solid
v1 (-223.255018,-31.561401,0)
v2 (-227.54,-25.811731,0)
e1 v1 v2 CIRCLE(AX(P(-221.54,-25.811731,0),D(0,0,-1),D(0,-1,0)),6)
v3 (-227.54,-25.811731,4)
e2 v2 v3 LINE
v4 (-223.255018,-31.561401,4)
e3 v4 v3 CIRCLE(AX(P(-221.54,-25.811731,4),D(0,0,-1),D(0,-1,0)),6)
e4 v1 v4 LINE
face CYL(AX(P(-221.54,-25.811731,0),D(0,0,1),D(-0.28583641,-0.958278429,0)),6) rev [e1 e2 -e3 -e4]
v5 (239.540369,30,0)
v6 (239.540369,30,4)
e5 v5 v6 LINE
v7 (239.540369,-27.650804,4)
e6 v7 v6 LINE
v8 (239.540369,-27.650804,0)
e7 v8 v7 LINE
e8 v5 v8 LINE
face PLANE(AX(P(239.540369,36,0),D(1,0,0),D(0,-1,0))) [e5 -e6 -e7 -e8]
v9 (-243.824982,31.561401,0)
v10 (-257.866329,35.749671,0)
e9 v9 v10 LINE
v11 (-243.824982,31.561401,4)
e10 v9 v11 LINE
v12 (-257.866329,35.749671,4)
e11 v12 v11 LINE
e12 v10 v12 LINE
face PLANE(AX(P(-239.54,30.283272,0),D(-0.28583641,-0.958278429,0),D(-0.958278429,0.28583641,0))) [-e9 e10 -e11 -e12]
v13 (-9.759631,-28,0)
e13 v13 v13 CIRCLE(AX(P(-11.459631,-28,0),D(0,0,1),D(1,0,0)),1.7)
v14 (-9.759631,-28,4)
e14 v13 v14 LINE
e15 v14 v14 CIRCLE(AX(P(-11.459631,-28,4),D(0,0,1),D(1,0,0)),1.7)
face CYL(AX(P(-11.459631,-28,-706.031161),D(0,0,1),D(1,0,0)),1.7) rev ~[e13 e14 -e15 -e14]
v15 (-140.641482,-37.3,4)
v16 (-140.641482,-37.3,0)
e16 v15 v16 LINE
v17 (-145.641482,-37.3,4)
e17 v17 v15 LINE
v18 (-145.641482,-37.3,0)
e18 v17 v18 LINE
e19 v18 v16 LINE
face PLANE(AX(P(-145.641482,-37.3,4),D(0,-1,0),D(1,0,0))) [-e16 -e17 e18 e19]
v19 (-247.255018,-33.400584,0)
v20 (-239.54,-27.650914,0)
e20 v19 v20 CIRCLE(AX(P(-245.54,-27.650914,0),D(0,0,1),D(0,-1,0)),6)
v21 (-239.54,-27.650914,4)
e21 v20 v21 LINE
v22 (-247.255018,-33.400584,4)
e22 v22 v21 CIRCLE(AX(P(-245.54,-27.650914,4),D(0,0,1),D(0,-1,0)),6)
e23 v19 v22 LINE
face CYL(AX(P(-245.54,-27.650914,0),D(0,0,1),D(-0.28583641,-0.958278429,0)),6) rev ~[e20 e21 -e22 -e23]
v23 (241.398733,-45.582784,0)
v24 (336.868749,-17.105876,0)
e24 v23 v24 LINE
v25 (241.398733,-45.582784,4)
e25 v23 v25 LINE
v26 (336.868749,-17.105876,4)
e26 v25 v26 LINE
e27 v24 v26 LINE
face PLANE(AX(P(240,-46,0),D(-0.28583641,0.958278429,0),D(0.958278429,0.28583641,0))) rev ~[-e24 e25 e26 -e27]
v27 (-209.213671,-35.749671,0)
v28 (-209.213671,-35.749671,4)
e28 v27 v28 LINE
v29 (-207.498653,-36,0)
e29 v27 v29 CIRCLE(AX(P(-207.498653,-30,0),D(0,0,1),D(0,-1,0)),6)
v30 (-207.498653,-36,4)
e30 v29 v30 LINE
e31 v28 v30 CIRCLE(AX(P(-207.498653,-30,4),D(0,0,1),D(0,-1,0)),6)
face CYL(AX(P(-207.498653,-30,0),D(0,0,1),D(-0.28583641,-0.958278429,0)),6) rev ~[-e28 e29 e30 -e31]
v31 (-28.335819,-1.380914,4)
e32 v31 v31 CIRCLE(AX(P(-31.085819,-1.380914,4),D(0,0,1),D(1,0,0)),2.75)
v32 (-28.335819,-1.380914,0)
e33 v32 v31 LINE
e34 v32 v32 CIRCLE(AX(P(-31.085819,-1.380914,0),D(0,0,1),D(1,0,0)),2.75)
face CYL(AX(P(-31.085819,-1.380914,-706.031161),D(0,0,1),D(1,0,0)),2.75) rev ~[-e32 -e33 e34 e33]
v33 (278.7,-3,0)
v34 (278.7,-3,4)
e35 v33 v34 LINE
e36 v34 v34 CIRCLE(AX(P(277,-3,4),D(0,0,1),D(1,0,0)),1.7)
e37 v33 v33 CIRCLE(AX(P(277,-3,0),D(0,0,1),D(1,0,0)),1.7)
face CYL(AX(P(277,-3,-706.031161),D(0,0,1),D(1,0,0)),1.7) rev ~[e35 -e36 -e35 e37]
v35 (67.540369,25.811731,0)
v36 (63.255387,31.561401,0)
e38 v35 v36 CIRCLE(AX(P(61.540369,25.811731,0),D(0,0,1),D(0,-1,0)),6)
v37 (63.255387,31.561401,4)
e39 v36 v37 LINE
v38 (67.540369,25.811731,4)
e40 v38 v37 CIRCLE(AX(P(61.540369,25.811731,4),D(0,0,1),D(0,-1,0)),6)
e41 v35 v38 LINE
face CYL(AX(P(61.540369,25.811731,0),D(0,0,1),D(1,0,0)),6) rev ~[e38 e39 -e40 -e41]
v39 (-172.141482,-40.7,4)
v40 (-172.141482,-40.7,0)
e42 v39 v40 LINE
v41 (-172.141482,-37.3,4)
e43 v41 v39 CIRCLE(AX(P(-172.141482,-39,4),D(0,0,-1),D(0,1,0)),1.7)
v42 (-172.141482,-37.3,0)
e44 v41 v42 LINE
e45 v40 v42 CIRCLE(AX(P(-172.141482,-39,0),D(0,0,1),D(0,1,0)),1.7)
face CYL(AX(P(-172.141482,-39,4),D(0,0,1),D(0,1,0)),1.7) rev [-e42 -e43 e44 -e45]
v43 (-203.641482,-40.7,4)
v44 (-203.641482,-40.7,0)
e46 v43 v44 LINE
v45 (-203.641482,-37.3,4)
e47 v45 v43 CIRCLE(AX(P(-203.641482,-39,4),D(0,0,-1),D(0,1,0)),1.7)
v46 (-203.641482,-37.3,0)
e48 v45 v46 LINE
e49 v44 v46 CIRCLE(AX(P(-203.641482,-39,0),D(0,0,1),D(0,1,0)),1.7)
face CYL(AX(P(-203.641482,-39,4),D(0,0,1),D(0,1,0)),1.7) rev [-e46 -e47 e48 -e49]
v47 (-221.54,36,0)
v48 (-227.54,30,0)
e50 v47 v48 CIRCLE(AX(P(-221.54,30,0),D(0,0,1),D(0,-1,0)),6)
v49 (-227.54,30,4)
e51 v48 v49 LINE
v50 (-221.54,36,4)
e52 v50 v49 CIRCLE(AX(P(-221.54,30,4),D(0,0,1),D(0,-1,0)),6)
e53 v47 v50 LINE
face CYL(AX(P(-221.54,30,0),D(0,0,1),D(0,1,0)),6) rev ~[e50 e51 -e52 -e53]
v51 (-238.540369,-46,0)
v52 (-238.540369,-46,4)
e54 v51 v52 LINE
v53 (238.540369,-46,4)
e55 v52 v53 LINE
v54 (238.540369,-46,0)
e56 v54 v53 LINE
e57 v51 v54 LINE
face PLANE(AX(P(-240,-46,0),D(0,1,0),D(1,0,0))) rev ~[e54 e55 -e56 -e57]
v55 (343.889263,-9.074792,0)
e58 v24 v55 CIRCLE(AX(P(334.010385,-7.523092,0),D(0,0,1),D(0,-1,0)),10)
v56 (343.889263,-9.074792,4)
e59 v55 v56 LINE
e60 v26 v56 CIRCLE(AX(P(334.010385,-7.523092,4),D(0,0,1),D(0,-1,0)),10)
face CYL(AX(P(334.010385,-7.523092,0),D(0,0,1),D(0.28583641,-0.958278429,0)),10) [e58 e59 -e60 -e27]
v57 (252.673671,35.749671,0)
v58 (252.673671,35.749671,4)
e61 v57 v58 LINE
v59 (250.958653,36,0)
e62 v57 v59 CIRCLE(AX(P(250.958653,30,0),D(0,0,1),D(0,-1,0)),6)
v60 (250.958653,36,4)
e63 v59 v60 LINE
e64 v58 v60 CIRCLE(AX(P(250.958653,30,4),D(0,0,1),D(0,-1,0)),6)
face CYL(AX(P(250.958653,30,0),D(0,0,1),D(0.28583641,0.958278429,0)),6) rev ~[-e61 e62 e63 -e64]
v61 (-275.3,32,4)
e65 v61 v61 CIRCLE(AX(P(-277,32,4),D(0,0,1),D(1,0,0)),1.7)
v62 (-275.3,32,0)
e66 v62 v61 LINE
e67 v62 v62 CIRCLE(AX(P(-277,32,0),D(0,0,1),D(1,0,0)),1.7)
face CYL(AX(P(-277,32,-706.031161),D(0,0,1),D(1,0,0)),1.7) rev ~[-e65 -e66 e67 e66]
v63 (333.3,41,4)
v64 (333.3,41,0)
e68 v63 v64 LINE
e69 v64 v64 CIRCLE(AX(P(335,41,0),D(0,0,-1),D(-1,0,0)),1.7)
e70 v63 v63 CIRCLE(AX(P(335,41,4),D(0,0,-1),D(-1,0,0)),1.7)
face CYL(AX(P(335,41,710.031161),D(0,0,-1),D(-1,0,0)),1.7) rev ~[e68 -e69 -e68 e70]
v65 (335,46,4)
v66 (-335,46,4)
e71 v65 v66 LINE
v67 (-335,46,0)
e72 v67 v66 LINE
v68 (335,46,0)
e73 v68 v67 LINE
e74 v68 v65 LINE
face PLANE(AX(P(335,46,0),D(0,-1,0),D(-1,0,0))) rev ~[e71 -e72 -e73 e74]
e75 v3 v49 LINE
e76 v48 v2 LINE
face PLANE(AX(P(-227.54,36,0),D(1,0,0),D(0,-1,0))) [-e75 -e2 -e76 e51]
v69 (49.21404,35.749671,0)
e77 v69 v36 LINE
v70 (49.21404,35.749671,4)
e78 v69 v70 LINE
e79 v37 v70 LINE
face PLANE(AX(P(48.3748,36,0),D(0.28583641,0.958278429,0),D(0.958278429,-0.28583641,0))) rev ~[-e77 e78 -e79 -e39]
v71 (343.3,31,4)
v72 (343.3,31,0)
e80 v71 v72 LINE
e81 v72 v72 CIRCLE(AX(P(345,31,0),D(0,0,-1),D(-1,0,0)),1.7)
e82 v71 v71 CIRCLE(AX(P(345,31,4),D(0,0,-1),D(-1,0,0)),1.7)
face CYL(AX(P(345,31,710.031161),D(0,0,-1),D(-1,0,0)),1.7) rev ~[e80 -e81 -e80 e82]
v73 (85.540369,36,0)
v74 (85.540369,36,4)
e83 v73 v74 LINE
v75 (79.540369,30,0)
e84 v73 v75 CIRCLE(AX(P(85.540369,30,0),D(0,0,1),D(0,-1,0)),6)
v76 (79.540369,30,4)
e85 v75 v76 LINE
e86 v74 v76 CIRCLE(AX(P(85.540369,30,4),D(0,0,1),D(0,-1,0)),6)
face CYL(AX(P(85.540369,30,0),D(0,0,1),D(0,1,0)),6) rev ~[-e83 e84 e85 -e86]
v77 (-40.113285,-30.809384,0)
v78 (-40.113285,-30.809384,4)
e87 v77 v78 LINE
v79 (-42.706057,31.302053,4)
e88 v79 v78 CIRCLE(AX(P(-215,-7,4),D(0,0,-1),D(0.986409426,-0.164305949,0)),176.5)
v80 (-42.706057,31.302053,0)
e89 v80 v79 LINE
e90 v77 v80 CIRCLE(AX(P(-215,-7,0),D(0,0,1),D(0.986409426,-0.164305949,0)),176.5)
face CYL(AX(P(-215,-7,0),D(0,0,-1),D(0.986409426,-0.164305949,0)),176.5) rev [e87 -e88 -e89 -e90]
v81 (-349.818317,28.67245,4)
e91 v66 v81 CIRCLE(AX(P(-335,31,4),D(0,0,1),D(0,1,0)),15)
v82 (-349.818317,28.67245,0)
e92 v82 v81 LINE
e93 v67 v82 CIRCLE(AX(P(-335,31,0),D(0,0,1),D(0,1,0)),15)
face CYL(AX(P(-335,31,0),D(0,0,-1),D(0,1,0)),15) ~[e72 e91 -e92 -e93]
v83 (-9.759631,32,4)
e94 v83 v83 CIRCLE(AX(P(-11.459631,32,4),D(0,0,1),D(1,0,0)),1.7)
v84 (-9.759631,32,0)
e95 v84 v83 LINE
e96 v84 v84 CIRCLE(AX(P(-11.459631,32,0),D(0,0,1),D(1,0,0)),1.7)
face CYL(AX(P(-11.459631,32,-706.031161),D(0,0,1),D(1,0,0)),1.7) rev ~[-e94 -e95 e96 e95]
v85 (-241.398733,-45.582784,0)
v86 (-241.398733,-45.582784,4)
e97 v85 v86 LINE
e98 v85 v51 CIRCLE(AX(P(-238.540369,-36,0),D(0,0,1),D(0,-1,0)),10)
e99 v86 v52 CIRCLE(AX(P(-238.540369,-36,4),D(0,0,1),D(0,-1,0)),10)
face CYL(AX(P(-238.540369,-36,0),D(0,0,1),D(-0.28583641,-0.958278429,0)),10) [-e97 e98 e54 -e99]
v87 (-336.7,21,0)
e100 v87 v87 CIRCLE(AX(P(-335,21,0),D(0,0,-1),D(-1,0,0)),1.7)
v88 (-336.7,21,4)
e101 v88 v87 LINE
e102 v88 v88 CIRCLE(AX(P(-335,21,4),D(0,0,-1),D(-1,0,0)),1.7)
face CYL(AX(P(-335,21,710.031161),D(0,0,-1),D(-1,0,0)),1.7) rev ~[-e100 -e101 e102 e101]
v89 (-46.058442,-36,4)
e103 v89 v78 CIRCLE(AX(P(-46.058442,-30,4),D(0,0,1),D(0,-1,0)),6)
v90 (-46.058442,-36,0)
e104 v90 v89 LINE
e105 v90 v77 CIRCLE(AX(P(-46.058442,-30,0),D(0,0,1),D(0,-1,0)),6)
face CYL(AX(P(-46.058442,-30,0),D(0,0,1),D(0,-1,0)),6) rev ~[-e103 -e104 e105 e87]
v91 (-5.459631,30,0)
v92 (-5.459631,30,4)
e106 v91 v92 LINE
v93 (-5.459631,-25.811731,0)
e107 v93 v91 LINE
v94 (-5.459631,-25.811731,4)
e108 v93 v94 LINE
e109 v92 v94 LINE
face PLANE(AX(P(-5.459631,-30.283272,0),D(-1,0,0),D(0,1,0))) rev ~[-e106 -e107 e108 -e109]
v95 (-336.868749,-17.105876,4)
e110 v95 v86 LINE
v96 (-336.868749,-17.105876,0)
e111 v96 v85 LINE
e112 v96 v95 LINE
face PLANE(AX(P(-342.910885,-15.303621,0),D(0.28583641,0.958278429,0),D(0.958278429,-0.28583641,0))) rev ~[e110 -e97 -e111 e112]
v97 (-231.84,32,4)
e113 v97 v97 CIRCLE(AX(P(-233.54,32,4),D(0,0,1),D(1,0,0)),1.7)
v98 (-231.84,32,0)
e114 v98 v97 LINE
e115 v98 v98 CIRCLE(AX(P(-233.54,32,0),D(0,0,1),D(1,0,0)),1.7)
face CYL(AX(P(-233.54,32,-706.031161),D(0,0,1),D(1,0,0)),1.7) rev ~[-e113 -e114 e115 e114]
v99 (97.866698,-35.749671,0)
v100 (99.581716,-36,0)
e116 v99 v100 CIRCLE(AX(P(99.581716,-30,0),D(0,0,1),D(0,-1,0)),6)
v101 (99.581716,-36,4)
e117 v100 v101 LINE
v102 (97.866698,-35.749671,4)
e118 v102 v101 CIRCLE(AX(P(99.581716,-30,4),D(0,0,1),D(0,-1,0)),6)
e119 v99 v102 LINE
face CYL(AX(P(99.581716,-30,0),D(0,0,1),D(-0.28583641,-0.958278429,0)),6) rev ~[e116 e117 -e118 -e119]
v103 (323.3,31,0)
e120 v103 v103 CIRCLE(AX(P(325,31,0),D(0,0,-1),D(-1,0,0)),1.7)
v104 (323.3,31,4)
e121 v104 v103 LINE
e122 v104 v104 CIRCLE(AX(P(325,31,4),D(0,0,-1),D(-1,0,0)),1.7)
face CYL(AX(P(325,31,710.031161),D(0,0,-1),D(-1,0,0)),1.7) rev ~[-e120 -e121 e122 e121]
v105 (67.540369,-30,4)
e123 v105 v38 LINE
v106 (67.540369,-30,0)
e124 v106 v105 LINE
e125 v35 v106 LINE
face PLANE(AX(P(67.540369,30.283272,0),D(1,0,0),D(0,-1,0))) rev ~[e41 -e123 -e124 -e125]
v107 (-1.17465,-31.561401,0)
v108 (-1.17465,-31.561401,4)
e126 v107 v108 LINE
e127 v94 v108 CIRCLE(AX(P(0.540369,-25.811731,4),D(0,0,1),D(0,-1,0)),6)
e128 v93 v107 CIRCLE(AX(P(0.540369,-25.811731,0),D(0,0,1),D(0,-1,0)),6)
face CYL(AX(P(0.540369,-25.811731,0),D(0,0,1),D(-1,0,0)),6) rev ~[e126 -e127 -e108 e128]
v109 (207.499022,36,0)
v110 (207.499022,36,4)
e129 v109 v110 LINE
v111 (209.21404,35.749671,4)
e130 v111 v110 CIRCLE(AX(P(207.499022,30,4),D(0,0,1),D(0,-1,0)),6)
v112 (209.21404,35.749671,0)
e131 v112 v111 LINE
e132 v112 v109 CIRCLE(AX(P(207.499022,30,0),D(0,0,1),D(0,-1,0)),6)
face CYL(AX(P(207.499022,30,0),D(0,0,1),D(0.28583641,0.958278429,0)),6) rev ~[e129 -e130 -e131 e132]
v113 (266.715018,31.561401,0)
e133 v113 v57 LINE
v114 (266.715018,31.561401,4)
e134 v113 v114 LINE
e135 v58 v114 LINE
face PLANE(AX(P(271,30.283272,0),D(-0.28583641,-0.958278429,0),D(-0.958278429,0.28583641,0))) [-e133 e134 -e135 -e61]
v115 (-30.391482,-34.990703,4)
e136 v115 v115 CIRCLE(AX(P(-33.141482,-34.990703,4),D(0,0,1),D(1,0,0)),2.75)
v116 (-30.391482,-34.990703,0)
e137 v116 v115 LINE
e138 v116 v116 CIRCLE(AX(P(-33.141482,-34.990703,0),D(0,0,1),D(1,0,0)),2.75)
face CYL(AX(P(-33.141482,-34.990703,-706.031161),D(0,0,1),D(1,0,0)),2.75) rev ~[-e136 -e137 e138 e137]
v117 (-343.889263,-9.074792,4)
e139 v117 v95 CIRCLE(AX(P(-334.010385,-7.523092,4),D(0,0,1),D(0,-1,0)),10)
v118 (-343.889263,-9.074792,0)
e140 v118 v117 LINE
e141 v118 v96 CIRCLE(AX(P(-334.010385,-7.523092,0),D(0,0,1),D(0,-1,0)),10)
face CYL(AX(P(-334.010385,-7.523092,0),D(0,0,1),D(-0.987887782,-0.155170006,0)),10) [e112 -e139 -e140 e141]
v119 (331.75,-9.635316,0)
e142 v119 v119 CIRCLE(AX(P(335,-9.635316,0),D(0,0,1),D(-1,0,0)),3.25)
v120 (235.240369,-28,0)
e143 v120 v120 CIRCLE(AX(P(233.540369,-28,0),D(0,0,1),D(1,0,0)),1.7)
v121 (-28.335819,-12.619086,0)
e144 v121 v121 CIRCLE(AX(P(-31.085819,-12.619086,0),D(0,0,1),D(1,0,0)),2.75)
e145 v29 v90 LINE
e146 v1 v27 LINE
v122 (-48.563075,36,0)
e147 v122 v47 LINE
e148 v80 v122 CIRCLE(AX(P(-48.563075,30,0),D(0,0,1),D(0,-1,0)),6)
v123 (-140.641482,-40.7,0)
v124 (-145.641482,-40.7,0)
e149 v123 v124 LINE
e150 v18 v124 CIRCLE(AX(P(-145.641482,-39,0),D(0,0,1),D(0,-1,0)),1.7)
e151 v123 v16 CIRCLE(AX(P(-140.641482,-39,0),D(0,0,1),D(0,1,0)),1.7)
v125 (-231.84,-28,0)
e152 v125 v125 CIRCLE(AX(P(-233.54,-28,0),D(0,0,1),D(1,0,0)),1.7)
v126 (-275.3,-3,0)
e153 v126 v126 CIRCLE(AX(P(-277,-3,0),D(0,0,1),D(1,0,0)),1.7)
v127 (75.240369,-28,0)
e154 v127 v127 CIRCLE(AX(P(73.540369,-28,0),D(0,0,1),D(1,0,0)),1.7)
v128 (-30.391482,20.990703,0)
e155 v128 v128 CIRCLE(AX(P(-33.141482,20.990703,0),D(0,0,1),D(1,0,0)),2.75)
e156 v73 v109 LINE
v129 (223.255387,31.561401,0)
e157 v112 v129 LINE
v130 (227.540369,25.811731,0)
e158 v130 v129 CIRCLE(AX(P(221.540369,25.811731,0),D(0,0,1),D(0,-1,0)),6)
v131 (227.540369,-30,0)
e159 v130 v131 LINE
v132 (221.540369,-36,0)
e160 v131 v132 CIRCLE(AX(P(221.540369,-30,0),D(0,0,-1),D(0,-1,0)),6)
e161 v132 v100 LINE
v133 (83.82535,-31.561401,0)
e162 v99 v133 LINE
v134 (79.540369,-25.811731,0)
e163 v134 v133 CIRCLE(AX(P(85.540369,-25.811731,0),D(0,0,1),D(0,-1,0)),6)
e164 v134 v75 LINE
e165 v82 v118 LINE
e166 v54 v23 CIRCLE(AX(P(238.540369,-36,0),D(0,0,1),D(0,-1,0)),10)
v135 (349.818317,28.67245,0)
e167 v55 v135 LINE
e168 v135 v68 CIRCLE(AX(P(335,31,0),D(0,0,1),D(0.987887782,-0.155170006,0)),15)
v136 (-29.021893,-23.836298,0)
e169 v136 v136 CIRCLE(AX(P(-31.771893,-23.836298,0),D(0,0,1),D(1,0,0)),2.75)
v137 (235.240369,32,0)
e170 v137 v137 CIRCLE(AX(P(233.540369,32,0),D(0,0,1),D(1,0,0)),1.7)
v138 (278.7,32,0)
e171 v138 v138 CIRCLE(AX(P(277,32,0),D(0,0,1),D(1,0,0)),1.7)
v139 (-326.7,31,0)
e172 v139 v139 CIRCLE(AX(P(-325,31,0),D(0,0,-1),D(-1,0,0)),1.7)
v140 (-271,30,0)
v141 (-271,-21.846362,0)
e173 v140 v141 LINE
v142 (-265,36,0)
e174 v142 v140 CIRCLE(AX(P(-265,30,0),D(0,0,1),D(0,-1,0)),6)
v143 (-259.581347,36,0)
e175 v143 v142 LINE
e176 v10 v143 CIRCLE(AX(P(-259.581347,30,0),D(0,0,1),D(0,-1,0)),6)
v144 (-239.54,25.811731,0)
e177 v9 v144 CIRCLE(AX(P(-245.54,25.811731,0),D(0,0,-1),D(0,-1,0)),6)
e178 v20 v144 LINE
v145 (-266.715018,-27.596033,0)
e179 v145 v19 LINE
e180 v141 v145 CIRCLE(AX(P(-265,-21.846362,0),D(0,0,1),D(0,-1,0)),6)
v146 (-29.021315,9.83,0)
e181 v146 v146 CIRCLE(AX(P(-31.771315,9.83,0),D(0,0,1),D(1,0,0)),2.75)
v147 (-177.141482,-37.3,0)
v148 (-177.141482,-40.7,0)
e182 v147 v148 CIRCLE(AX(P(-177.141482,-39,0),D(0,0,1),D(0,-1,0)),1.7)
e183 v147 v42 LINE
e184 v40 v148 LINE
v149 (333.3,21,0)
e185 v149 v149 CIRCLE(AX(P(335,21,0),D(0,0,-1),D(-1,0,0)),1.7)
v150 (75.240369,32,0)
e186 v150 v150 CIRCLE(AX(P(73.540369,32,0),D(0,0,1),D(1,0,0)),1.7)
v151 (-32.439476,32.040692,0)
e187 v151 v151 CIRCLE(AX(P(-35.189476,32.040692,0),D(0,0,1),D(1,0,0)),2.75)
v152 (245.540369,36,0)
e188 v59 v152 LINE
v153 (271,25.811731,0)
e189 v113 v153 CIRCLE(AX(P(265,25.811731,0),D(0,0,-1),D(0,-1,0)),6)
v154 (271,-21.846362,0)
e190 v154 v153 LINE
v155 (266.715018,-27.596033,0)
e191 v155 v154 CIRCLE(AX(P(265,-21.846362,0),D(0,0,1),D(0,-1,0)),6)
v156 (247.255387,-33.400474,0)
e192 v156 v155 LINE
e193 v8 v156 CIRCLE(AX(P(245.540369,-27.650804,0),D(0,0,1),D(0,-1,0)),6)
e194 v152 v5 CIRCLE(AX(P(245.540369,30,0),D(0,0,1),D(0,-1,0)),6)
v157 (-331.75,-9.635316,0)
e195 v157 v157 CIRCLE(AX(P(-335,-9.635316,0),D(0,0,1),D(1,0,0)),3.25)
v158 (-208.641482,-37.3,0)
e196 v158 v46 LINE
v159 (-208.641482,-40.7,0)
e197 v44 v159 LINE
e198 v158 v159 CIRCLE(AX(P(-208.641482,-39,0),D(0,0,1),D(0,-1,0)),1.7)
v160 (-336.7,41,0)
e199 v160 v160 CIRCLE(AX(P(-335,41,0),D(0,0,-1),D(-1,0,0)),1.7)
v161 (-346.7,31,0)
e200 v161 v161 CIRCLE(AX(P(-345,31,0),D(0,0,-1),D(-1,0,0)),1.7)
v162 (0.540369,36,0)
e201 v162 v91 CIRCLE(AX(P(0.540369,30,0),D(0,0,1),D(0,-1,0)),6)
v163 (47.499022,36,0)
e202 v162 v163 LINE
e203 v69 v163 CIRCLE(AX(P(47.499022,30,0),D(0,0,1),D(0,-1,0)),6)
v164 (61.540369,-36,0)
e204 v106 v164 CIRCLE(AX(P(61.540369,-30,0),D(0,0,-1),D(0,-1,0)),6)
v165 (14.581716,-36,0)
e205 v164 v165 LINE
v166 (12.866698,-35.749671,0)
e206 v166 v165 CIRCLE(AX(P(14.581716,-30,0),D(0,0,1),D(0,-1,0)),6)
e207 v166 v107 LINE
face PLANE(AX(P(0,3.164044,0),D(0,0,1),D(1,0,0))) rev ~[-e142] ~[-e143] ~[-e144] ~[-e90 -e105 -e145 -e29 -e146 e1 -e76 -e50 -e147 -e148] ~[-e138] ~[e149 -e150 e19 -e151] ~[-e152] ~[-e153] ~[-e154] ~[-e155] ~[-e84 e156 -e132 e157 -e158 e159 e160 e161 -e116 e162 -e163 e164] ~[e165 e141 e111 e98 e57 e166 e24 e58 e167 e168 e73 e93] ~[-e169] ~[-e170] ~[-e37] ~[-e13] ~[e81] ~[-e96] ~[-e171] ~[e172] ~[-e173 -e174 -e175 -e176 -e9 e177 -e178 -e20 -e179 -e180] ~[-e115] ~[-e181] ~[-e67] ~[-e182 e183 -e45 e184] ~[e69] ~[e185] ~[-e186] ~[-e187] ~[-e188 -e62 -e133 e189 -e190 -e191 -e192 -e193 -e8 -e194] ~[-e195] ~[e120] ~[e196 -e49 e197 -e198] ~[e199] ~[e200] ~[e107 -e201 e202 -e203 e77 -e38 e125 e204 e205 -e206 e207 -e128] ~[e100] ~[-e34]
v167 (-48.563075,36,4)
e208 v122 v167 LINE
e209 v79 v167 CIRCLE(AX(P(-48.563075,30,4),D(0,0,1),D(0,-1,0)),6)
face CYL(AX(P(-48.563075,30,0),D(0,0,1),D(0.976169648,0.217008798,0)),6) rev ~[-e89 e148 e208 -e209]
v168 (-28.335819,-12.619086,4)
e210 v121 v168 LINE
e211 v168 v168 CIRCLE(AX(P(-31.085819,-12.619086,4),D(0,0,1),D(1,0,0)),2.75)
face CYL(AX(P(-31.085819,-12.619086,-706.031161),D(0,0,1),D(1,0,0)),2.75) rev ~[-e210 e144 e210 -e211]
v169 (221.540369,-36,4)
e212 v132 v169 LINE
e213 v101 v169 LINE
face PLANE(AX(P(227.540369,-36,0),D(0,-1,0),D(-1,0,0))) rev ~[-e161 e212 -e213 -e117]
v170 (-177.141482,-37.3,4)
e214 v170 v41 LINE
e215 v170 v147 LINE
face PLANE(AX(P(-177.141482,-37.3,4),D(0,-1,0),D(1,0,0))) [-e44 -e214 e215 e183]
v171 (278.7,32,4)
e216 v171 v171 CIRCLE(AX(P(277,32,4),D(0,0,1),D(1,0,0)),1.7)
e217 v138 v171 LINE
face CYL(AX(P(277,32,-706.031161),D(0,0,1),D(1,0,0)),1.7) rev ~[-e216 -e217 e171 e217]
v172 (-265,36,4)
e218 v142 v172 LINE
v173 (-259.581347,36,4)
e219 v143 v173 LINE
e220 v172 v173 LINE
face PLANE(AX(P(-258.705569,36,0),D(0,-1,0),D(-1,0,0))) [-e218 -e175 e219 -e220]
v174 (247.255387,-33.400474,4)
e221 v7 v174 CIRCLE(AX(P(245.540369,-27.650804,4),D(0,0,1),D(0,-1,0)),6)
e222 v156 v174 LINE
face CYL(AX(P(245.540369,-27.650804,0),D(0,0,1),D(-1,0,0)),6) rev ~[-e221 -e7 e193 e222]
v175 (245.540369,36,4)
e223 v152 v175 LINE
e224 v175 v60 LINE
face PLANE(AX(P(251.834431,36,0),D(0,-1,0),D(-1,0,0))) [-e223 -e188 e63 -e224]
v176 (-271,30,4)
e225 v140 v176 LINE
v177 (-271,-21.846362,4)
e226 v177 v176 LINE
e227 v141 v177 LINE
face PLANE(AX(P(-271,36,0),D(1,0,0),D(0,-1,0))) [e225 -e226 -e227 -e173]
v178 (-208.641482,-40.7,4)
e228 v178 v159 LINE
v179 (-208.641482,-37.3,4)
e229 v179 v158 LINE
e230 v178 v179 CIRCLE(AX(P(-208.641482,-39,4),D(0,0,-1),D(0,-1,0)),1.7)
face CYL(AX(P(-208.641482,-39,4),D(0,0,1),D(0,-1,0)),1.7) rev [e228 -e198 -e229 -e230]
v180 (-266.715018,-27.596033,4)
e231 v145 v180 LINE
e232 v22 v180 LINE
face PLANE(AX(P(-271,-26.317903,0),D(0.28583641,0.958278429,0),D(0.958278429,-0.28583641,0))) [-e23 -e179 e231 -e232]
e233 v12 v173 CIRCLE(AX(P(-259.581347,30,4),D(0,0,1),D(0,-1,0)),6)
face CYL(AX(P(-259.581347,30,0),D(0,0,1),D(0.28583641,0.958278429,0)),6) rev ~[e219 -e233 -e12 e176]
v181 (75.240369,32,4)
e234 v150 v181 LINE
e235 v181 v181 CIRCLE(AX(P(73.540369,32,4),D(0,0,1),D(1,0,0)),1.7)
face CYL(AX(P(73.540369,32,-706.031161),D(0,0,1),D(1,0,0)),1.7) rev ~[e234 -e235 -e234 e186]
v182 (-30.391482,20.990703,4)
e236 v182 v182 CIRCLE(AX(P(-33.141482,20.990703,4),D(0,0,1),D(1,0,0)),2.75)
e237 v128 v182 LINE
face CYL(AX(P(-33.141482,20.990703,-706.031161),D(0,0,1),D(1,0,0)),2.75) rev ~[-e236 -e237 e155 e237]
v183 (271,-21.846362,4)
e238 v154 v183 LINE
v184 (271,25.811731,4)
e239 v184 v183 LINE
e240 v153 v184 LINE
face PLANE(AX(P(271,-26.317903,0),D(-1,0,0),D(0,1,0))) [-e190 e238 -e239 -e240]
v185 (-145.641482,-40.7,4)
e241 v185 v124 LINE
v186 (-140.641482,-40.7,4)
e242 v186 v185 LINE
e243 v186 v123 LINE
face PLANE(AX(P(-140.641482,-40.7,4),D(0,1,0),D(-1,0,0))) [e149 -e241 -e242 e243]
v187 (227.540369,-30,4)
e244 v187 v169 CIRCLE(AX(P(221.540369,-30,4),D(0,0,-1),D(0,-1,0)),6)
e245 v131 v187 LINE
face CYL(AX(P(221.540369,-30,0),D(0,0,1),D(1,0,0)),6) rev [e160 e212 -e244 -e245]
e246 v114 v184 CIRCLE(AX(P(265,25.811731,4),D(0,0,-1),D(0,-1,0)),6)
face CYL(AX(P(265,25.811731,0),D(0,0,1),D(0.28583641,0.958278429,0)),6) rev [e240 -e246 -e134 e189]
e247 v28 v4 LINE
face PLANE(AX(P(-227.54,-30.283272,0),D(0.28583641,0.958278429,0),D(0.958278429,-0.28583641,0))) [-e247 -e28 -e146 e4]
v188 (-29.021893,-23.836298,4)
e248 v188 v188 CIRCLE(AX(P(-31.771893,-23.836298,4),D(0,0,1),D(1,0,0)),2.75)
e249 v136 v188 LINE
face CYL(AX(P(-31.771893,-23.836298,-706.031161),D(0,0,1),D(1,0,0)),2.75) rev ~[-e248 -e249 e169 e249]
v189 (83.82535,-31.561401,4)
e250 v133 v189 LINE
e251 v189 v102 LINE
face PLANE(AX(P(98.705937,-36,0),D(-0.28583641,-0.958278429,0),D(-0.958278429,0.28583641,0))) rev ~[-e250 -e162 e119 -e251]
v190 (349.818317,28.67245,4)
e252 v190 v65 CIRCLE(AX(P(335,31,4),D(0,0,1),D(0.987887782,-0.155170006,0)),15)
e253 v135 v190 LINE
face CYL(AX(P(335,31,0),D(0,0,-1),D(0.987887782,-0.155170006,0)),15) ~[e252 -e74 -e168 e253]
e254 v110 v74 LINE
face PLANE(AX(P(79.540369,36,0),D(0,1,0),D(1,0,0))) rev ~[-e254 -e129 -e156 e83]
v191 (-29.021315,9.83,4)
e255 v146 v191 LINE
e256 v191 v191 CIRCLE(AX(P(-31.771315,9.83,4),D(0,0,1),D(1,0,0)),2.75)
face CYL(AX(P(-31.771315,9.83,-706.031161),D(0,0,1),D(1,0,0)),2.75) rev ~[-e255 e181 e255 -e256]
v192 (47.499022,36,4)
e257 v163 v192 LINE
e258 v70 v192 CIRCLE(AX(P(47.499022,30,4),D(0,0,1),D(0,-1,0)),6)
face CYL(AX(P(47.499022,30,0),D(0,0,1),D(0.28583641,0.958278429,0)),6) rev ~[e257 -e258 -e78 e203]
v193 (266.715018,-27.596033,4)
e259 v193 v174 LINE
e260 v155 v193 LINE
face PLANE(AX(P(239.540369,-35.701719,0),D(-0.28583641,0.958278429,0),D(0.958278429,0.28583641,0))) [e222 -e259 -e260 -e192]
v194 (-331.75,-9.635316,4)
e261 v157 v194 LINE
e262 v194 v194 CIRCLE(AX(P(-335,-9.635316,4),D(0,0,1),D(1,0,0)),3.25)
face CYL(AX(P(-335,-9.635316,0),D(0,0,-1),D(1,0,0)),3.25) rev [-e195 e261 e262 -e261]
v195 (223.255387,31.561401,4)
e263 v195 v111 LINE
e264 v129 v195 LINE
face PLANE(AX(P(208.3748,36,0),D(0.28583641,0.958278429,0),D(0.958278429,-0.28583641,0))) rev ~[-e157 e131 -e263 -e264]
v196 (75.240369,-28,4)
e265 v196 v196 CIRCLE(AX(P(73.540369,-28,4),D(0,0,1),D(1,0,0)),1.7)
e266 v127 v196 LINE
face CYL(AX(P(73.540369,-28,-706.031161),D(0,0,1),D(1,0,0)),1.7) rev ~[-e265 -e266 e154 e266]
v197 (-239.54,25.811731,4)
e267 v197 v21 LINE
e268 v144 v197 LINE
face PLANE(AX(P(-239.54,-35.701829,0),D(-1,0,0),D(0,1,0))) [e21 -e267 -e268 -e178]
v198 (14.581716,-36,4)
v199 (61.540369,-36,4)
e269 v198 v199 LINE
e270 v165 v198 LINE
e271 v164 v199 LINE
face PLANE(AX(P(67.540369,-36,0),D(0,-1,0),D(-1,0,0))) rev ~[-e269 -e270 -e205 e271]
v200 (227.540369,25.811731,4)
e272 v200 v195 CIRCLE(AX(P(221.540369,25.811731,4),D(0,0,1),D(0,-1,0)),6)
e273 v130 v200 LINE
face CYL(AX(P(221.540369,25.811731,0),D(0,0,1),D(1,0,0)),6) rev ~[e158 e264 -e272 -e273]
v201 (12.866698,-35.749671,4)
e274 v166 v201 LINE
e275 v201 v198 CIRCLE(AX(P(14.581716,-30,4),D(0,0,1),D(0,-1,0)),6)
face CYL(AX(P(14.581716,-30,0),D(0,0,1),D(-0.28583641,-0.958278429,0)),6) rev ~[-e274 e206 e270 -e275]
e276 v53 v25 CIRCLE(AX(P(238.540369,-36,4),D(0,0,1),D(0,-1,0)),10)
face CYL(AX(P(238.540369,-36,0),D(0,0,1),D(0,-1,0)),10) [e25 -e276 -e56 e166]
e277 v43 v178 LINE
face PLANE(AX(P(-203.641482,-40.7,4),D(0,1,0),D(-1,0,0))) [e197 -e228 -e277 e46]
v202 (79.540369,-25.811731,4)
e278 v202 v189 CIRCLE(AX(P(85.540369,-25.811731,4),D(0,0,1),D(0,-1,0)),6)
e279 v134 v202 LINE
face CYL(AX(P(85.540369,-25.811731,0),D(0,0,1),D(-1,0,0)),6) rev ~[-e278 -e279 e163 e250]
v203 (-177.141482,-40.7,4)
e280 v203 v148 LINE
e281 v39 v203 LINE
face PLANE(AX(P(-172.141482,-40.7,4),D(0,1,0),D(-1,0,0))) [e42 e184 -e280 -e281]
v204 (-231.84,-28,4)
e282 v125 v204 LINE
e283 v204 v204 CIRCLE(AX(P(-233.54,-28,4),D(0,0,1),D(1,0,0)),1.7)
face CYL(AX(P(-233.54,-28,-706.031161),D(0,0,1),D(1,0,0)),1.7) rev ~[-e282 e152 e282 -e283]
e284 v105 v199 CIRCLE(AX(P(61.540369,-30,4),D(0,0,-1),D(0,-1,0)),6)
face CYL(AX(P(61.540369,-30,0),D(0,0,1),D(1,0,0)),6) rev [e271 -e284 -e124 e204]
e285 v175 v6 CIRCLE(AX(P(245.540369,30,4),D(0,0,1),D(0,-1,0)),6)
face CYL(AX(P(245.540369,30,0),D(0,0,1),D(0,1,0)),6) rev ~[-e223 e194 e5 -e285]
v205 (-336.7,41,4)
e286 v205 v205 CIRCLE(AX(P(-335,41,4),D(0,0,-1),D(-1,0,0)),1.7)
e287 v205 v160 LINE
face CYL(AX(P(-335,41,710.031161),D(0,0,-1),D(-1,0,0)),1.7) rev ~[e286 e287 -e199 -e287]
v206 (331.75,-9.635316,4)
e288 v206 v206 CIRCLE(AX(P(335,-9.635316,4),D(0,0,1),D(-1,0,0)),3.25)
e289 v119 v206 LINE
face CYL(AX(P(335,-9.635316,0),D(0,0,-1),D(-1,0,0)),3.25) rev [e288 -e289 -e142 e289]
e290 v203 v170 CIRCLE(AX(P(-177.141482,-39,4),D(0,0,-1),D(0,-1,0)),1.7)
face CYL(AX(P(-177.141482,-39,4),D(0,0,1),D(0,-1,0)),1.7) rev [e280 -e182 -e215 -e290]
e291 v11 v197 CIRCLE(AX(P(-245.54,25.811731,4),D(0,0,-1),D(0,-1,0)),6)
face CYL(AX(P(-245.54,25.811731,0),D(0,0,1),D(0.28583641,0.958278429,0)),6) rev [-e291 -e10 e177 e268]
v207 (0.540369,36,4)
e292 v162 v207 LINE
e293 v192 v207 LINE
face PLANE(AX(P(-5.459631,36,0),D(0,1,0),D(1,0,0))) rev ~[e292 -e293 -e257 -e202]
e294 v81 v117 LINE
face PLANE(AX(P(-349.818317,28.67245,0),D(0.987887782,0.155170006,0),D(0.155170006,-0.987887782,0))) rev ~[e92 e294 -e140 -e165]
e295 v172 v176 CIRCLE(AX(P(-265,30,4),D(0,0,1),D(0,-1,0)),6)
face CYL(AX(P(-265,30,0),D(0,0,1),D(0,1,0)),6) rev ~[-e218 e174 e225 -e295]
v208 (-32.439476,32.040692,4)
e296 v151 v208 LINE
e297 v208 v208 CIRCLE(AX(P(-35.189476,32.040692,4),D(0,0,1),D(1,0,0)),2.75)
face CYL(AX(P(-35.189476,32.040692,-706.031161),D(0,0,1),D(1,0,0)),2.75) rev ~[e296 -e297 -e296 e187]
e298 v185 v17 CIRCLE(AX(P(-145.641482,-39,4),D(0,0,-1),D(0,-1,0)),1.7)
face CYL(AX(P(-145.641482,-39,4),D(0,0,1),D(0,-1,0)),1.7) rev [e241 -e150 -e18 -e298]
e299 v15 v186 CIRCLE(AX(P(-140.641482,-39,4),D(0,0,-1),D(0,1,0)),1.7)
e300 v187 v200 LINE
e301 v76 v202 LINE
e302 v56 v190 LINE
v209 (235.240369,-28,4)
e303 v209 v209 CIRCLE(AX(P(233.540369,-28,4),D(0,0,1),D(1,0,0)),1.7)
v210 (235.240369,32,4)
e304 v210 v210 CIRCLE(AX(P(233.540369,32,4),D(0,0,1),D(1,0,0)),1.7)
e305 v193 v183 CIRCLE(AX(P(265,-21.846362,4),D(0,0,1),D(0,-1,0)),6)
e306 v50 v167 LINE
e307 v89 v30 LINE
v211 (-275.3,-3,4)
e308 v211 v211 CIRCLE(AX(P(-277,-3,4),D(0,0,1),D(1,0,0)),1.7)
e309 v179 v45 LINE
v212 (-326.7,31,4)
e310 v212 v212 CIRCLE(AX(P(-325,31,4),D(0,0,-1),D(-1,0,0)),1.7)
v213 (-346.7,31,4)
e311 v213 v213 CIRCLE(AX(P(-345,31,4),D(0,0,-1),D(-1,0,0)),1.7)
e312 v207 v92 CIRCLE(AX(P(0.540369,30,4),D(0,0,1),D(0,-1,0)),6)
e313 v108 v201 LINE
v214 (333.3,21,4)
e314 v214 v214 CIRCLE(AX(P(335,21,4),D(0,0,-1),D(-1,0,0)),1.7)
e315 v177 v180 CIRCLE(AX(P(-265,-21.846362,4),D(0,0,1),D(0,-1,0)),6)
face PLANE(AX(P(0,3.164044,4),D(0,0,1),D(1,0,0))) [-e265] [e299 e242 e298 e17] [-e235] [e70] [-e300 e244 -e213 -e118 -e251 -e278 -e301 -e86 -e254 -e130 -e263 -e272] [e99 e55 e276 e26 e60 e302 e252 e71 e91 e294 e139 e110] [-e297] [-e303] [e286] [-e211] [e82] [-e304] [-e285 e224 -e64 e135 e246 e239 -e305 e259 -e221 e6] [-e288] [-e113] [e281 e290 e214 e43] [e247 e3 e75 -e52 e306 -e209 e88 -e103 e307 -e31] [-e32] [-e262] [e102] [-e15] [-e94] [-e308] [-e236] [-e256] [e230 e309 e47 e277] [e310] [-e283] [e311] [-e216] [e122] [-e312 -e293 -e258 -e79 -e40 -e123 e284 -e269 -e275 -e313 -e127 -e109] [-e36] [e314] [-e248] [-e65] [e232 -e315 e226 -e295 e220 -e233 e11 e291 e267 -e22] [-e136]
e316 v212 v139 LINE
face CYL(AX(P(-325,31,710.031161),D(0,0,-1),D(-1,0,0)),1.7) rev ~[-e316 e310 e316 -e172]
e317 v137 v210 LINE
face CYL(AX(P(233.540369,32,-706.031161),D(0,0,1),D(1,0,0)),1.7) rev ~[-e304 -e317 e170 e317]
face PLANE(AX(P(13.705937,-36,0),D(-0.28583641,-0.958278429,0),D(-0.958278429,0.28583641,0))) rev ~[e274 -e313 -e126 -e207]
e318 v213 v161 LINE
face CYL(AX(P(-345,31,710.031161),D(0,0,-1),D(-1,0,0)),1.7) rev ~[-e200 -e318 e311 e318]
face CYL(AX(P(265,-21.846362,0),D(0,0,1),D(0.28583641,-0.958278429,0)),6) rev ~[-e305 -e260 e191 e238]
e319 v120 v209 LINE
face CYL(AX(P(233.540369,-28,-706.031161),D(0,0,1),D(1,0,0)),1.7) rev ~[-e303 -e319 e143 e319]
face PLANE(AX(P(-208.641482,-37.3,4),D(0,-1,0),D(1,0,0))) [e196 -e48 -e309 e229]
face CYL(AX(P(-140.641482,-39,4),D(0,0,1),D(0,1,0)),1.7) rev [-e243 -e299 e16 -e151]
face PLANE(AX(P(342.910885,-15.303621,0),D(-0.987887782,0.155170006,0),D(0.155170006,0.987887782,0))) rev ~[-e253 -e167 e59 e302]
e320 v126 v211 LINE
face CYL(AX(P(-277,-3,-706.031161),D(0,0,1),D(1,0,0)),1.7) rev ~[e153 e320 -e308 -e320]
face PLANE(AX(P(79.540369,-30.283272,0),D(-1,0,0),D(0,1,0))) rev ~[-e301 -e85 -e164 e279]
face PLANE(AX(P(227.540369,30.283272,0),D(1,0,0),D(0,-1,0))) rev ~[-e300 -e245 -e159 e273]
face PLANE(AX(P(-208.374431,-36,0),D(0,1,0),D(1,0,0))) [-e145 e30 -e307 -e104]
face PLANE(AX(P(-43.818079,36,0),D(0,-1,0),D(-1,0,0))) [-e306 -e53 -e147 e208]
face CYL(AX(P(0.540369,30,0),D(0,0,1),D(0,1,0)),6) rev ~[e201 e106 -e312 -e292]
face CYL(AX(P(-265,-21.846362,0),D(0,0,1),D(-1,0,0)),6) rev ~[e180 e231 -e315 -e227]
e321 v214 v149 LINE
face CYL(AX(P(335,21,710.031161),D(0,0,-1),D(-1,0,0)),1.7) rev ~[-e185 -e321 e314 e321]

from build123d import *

# Parameters (mm, degrees)
SKETCH_1_R          = 3.25
EXTRUDE_1_DEPTH     = 4
HOLE_WIZARD_M32_D   = 3.4
HOLE_WIZARD_M52_D   = 5.5
HOLE_WIZARD_M53_D   = 5.5
FILLET_5_R          = 10
CUT_EXTRUDE_4_DEPTH = 354.032576401
FILLET_7_R          = 6
HOLE_WIZARD_M34_D   = 3.4
CUT_EXTRUDE_5_DEPTH = 354.032576401


with BuildPart() as part:
    # Эскиз1 → Бобышка-Вытянуть1 (new body)
    with BuildSketch(Plane.XY):
        with BuildLine():
            Line((-349.818316726, 28.672449915), (-342.910885265, -15.303620822))
            Line((-342.910885265, -15.303620822), (-240, -46))
            Line((-240, -46), (240, -46))
            Line((240, -46), (342.910885265, -15.303620822))
            Line((342.910885265, -15.303620822), (349.818316726, 28.672449915))
            ThreePointArc((349.818316726, 28.672449915), (346.399852001, 40.749019149), (335, 46))
            Line((335, 46), (-335, 46))
            ThreePointArc((-335, 46), (-346.399852001, 40.749019149), (-349.818316726, 28.672449915))
        make_face()
        with Locations((-335, -9.635315981)):
            Circle(SKETCH_1_R, mode=Mode.SUBTRACT)
        with Locations(Location((335, -9.635315981, 0), (0, 0, 180))):
            Circle(SKETCH_1_R, mode=Mode.SUBTRACT)
    extrude(amount=EXTRUDE_1_DEPTH)

    # Отверстие с зазором M32 (through all)
    with Locations(Plane.XY.offset(4)):
        with Locations((-335, 41), (-345, 31), (-335, 21), (-325, 31), (325, 31), (335, 41), (345, 31), (335, 21)):
            Hole(HOLE_WIZARD_M32_D / 2)

    # Отверстие с зазором M52 (through all)
    with Locations(Plane(origin=(0, 0, 0), x_dir=(-1, 0, 0), z_dir=(0, 0, -1))):
        with Locations((215, -7)):
            Hole(HOLE_WIZARD_M52_D / 2)

    # Отверстие с зазором M53 (through all)
    with Locations(Plane(origin=(0, 0, 0), x_dir=(-1, 0, 0), z_dir=(0, 0, -1))):
        with Locations((31.771314746, 9.83), (35.189476411, 32.040691677), (33.141482074, 20.990703059), (31.085819286, -1.380913569), (31.085819286, -12.619086431), (31.771893326, -23.836297834), (33.141482074, -34.990703059)):
            Hole(HOLE_WIZARD_M53_D / 2)

    # Скругление5
    fillet_5_edges = [part.edges().sort_by_distance(p)[0] for p in [
        (342.910885265, -15.303620822, 2),
        (240, -46, 2),
        (-240, -46, 2),
        (-342.910885265, -15.303620822, 2),
    ]]
    fillet(fillet_5_edges, radius=FILLET_5_R)

    # Эскиз22 → Вырез-Вытянуть4 (cut, through all)
    with BuildSketch(Plane(origin=(0, 0, 0), x_dir=(-1, 0, 0), z_dir=(0, 0, -1))):
        Polygon((-227.540368898, -36), (-98.70593747, -36), (-79.540368898, -30.283271798), (-79.540368898, 36), (-208.374800326, 36), (-227.540368898, 30.283271798), align=None)
        with BuildLine():
            Line((227.54, -30.283271798), (208.374431428, -36))
            Line((208.374431428, -36), (40.898736363, -36))
            ThreePointArc((40.898736363, -36), (38.644905491, 0.150569256), (43.818079226, 36))
            Line((43.818079226, 36), (227.54, 36))
            Line((227.54, 36), (227.54, -30.283271798))
        make_face()
        Polygon((-271, 30.283271798), (-251.834431428, 36), (-239.540368898, 36), (-239.540368898, -35.701718831), (-271, -26.317903284), align=None)
        Polygon((-67.540368898, -36), (-13.70593747, -36), (5.459631102, -30.283271798), (5.459631102, 36), (-48.374800326, 36), (-67.540368898, 30.283271798), align=None)
        Polygon((239.54, 30.283271798), (258.705568572, 36), (271, 36), (271, -26.317903284), (239.54, -35.701828866), align=None)
    extrude(amount=-CUT_EXTRUDE_4_DEPTH, mode=Mode.SUBTRACT)

    # Скругление7
    fillet_7_edges = [part.edges().sort_by_distance(p)[0] for p in [
        (227.540368898, -36, 2),
        (227.540368898, 30.283271798, 2),
        (208.374800326, 36, 2),
        (79.540368898, 36, 2),
        (79.540368898, -30.283271798, 2),
        (98.70593747, -36, 2),
        (271, -26.317903284, 2),
        (271, 30.283271798, 2),
        (251.834431428, 36, 2),
        (239.540368898, 36, 2),
        (239.540368898, -35.701718831, 2),
        (-40.898736363, -36, 2),
        (-43.818079226, 36, 2),
        (-227.54, 36, 2),
        (-227.54, -30.283271798, 2),
        (-208.374431428, -36, 2),
        (67.540368898, -36, 2),
        (67.540368898, 30.283271798, 2),
        (48.374800326, 36, 2),
        (-5.459631102, 36, 2),
        (-5.459631102, -30.283271798, 2),
        (13.70593747, -36, 2),
        (-271, -26.317903284, 2),
        (-239.54, -35.701828866, 2),
        (-239.54, 30.283271798, 2),
        (-258.705568572, 36, 2),
        (-271, 36, 2),
    ]]
    fillet(fillet_7_edges, radius=FILLET_7_R)

    # Отверстие с зазором M34 (through all)
    with Locations(Plane(origin=(0, 0, 0), x_dir=(-1, 0, 0), z_dir=(0, 0, -1))):
        with Locations((-233.540368898, 32), (-233.540368898, -28), (-73.540368898, -28), (-73.540368898, 32), (11.459631102, 32), (11.459631102, -28), (277, 32), (277, -3), (-277, 32), (-277, -3), (233.54, -28), (233.54, 32)):
            Hole(HOLE_WIZARD_M34_D / 2)

    # Эскиз25 → Вырез-Вытянуть5 (cut, through all)
    with BuildSketch(Plane.XY.offset(4)):
        with BuildLine():
            Line((-208.641482074, -37.3), (-203.641482074, -37.3))
            ThreePointArc((-203.641482074, -37.3), (-201.941482074, -39), (-203.641482074, -40.7))
            Line((-203.641482074, -40.7), (-208.641482074, -40.7))
            ThreePointArc((-208.641482074, -40.7), (-210.341482074, -39), (-208.641482074, -37.3))
        make_face()
        with BuildLine():
            Line((-177.141482074, -37.3), (-172.141482074, -37.3))
            ThreePointArc((-172.141482074, -37.3), (-170.441482074, -39), (-172.141482074, -40.7))
            Line((-172.141482074, -40.7), (-177.141482074, -40.7))
            ThreePointArc((-177.141482074, -40.7), (-178.841482074, -39), (-177.141482074, -37.3))
        make_face()
        with BuildLine():
            Line((-140.641482074, -40.7), (-145.641482074, -40.7))
            ThreePointArc((-145.641482074, -40.7), (-147.341482074, -39), (-145.641482074, -37.3))
            Line((-145.641482074, -37.3), (-140.641482074, -37.3))
            ThreePointArc((-140.641482074, -37.3), (-138.941482074, -39), (-140.641482074, -40.7))
        make_face()
    extrude(amount=-CUT_EXTRUDE_5_DEPTH, mode=Mode.SUBTRACT)


solid = part.part
